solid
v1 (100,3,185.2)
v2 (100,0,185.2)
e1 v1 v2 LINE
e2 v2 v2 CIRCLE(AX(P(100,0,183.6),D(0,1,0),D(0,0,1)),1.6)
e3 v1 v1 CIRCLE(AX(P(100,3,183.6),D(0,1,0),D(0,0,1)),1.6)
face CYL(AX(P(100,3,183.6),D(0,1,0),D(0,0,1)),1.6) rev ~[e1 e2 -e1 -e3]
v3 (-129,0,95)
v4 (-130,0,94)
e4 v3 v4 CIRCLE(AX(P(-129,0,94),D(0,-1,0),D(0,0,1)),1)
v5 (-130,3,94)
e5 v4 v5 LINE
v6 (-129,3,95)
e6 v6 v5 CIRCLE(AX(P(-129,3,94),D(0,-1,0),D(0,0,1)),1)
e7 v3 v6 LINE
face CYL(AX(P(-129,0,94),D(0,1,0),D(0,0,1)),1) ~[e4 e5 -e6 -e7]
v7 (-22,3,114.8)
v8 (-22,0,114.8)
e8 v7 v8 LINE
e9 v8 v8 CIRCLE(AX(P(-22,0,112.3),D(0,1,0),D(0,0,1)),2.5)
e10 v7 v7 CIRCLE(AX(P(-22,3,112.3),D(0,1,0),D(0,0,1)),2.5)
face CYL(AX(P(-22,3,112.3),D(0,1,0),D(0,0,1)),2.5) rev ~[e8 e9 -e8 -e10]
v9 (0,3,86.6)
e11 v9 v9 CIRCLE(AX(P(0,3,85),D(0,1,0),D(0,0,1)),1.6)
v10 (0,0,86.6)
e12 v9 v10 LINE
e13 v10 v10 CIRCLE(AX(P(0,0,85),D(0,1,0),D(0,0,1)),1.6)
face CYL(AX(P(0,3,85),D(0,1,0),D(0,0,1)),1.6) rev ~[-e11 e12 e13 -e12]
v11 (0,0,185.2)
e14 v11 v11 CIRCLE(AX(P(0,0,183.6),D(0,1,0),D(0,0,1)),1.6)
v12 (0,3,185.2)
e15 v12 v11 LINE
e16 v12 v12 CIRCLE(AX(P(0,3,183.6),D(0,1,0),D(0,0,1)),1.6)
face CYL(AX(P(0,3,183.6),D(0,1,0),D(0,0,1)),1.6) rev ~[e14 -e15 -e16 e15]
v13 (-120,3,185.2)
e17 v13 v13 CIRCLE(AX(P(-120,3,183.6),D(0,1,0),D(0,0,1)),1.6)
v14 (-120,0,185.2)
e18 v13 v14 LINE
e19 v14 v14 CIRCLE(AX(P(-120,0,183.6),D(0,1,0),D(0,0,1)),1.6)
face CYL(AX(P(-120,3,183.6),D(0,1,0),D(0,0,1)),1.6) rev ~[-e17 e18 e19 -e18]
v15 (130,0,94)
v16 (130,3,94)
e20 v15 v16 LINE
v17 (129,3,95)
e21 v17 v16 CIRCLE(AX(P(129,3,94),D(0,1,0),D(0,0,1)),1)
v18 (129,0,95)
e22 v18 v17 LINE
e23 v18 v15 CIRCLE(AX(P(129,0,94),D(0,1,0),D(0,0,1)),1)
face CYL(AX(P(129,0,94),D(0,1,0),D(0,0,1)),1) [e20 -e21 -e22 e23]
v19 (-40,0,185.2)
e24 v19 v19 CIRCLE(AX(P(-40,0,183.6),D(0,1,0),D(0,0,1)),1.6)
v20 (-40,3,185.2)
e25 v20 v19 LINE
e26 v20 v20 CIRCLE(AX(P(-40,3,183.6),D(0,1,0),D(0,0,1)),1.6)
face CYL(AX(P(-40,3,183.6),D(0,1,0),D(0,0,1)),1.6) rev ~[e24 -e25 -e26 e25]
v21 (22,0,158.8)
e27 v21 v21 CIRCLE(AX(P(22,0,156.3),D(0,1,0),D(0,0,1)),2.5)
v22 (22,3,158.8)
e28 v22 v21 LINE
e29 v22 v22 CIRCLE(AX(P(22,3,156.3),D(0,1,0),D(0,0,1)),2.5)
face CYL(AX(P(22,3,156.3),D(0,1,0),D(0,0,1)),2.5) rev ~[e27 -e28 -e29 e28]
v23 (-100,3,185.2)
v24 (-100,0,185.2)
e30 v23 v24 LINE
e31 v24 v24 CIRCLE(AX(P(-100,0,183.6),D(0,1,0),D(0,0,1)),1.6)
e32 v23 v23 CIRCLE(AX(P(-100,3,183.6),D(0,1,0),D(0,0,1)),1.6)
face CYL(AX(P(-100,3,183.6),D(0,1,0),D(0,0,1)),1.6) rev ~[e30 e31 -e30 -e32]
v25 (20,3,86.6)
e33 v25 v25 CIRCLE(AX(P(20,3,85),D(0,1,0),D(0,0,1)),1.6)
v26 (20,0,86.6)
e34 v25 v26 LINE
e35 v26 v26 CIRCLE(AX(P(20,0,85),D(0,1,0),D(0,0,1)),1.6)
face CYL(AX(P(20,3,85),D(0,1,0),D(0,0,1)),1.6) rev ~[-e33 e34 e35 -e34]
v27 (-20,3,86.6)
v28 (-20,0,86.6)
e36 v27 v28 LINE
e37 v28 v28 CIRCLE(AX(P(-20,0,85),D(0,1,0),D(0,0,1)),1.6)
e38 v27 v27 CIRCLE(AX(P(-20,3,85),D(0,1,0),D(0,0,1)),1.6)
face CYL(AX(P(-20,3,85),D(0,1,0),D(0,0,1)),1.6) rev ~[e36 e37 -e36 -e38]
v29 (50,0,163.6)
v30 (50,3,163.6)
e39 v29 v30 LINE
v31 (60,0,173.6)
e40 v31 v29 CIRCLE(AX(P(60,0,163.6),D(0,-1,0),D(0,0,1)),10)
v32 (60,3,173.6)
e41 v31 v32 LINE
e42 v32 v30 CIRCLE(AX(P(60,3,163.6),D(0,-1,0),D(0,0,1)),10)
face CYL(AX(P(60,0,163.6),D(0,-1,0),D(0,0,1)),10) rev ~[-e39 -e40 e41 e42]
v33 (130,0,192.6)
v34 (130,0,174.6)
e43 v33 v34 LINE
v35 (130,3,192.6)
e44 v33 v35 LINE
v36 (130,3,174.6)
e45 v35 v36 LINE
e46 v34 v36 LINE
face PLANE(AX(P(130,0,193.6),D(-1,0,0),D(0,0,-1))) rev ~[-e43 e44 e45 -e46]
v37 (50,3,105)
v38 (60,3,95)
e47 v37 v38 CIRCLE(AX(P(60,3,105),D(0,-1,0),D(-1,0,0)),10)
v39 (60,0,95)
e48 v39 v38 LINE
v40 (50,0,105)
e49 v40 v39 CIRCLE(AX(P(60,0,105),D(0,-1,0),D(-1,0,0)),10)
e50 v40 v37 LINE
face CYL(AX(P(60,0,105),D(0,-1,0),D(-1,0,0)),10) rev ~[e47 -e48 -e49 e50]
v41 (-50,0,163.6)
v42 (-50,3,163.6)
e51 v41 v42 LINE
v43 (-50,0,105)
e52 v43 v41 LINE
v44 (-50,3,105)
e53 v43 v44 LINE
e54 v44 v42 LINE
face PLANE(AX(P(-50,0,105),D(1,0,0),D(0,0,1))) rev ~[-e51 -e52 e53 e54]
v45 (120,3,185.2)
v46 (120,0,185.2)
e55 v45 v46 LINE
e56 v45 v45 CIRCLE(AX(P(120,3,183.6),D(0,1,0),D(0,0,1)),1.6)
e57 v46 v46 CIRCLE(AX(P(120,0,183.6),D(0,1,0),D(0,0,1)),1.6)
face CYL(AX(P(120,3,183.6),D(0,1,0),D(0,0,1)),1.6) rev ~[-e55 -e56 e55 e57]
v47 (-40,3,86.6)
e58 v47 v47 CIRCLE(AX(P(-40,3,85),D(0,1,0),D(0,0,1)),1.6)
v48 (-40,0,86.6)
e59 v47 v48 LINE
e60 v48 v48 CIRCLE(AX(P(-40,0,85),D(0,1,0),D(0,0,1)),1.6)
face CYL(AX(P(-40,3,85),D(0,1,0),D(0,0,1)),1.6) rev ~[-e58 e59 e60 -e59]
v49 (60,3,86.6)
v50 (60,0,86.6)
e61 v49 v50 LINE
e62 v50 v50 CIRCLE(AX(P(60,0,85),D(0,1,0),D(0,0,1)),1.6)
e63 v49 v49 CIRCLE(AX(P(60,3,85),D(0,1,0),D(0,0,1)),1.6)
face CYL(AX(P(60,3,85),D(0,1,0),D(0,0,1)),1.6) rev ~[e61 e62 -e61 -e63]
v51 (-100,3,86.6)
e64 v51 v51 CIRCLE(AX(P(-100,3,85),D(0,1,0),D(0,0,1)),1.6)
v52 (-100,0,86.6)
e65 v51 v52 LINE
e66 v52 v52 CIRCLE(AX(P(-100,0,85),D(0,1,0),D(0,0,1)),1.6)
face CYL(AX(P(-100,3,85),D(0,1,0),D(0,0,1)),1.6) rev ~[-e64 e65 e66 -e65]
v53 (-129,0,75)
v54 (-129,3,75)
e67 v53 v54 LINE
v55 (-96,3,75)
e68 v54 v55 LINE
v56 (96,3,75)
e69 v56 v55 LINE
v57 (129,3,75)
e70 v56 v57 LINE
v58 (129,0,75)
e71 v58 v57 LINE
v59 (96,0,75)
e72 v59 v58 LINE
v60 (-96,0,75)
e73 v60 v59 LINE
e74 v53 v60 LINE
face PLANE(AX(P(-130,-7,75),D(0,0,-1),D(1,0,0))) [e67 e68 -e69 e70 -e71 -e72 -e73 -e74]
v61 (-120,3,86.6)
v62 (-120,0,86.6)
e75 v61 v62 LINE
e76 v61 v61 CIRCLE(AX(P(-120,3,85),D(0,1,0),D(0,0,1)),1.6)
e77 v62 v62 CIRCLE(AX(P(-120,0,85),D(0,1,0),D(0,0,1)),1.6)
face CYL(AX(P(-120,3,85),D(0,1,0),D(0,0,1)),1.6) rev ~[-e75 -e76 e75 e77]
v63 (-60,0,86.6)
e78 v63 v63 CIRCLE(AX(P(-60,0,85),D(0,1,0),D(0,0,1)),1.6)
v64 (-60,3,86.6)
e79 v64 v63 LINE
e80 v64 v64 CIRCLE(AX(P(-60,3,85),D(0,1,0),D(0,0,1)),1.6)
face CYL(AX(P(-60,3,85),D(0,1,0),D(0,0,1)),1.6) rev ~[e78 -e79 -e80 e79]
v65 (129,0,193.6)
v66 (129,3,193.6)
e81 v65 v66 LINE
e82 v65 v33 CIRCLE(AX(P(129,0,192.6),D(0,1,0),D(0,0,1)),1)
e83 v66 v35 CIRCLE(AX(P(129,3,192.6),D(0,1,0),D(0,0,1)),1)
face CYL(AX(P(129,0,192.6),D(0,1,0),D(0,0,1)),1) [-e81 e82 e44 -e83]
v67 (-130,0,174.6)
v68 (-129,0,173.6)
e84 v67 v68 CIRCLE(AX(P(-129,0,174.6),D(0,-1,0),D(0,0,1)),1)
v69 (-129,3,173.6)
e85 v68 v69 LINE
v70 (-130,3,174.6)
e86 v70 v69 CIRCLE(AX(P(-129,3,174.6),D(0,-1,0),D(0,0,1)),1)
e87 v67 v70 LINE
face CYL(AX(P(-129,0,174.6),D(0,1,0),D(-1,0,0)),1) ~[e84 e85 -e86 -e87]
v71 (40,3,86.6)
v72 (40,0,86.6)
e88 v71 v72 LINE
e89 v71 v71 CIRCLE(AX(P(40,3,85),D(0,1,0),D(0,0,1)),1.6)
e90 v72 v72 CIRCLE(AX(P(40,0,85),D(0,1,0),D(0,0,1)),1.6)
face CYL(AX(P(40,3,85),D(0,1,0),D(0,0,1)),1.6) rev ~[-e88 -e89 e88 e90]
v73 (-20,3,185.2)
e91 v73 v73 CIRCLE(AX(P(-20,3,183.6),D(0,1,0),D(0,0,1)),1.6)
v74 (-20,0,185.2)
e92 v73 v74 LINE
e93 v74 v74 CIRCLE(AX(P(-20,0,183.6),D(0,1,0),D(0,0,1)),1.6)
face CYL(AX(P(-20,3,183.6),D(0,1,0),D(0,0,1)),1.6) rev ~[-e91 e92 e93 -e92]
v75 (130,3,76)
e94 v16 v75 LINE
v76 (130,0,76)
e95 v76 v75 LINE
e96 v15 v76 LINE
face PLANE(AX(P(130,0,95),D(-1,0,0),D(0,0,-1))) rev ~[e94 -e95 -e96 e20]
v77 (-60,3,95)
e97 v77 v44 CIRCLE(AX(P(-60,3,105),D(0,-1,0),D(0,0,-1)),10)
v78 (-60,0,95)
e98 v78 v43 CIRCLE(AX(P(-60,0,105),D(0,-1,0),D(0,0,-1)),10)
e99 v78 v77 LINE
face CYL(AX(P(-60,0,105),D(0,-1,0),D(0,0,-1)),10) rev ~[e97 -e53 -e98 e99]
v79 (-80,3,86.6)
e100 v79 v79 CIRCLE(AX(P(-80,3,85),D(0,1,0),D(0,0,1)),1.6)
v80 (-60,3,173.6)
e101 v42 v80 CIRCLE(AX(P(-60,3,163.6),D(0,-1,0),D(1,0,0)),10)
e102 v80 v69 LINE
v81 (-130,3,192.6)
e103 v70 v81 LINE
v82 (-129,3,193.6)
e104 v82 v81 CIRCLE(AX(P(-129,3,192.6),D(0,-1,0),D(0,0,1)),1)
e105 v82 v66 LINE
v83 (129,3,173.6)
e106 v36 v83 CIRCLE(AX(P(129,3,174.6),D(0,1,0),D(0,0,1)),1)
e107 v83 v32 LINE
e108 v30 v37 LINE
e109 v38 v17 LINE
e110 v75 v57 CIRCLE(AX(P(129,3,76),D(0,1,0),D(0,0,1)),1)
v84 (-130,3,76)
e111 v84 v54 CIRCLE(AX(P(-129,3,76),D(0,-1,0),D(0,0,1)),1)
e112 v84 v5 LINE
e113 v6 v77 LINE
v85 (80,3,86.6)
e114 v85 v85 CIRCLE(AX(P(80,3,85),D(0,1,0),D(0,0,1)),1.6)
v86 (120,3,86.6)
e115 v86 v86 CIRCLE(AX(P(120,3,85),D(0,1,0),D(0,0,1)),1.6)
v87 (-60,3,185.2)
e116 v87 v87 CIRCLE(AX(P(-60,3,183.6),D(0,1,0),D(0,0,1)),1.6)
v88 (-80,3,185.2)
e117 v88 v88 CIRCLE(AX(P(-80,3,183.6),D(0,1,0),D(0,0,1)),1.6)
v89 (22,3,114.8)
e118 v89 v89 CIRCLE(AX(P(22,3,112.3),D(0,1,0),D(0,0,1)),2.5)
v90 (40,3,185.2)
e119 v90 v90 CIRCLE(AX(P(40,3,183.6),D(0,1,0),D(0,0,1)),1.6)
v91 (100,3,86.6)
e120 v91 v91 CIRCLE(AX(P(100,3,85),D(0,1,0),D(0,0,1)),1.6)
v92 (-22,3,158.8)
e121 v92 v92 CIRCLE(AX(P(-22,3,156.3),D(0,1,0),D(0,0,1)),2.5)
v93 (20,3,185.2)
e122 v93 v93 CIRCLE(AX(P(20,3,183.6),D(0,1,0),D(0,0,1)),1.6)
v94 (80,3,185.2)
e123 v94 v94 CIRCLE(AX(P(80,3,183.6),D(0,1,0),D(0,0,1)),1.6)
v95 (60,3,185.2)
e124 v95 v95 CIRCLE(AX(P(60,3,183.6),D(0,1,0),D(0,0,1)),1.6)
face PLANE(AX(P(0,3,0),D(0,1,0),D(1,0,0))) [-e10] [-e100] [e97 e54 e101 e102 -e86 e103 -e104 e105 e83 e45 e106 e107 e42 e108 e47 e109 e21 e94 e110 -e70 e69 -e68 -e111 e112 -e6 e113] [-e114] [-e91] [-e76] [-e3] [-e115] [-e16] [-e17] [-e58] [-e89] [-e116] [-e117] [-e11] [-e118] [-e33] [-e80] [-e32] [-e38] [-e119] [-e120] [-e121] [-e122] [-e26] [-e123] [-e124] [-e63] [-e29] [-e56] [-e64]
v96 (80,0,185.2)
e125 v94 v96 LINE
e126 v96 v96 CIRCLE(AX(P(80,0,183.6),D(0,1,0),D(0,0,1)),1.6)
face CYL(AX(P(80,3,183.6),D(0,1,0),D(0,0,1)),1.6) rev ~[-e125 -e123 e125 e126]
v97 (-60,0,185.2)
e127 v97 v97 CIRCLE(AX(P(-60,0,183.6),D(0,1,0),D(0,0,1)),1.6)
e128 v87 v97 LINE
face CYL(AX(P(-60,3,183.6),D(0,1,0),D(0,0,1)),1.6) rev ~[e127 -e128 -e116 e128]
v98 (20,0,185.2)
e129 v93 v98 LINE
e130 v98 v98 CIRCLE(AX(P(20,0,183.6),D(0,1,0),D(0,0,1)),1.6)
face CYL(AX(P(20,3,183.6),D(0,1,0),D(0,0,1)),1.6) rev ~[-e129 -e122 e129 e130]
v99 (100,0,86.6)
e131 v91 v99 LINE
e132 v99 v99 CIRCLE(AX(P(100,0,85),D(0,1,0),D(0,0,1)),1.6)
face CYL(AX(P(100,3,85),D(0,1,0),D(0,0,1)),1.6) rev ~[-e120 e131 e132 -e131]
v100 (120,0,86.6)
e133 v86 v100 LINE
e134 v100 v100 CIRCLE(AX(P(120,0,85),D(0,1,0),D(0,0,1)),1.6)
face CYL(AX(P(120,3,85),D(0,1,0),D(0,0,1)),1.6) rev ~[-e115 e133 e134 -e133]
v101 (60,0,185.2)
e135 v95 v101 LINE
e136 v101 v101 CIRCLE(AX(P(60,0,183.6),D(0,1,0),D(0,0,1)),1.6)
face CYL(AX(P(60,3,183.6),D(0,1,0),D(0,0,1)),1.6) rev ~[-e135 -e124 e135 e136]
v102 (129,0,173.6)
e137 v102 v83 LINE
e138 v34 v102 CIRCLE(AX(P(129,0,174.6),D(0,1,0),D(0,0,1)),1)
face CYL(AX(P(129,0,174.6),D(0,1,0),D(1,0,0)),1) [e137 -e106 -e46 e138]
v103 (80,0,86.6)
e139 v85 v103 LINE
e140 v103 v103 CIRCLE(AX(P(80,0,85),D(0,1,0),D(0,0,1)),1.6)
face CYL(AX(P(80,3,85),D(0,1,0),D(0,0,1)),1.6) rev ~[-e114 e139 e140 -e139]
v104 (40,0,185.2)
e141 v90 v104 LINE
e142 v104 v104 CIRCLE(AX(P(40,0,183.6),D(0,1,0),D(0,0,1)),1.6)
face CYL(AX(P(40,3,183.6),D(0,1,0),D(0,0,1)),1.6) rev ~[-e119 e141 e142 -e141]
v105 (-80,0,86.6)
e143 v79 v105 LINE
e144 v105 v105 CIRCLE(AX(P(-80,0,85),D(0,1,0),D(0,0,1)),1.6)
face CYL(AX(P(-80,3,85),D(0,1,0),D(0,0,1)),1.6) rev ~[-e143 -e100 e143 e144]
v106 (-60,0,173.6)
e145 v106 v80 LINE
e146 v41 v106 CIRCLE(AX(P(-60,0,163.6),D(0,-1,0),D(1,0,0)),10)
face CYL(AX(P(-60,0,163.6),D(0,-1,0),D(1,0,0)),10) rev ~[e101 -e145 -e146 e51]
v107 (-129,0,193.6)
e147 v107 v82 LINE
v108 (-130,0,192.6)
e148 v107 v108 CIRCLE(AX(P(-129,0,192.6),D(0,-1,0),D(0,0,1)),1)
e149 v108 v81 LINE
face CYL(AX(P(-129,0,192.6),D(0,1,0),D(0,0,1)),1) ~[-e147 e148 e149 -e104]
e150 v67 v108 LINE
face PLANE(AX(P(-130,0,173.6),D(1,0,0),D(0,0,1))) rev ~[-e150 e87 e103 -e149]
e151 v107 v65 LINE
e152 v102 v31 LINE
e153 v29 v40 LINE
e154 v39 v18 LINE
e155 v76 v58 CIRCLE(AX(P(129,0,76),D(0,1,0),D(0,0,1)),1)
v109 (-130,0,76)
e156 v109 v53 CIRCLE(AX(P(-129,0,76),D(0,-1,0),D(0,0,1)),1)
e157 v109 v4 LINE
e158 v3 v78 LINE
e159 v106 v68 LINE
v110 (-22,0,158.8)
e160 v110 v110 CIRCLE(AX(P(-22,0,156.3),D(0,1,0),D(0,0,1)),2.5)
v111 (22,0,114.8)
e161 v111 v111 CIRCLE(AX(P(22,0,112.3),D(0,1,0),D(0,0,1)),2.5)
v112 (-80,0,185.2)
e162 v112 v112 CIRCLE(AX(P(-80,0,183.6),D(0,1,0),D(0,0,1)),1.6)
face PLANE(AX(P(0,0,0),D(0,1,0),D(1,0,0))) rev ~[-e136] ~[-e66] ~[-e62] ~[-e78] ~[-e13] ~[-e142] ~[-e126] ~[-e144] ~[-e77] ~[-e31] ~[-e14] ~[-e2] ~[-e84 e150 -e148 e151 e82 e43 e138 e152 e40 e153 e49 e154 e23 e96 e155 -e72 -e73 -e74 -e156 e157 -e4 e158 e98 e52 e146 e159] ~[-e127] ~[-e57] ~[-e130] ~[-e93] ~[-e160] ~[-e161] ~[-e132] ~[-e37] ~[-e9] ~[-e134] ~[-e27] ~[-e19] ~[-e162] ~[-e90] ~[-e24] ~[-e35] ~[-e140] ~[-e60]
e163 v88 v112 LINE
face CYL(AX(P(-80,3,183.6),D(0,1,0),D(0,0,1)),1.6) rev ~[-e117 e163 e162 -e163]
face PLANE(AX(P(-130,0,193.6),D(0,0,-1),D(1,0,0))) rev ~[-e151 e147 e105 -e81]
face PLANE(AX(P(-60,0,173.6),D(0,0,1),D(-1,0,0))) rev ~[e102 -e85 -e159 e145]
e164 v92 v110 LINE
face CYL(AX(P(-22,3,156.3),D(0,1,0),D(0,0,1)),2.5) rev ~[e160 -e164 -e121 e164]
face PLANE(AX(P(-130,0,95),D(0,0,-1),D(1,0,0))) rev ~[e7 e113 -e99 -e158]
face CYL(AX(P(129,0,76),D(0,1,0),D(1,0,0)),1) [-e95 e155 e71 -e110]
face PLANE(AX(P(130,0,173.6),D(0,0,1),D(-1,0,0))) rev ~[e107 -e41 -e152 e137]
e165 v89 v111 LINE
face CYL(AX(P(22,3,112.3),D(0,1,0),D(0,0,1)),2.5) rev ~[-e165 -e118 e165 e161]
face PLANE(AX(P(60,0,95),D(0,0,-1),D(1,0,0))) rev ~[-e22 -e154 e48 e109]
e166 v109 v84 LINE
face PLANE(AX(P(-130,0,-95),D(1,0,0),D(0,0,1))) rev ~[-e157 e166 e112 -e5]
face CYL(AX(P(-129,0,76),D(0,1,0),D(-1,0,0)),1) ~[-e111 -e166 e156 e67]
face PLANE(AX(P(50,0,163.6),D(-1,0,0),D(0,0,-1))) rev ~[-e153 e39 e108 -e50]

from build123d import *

# Parameters (mm, degrees)
EXTRUDE_1_DEPTH     = 3
CUT_EXTRUDE_START   = -10
CUT_EXTRUDE_1_DEPTH = 10
SKETCH_3_W          = 20
SKETCH_3_H          = 40
EXTRUDE_2_DEPTH     = 3
FILLET_2_R          = 1
FILLET_3_R          = 1
SKETCH_5_R          = 2.5
CUT_EXTRUDE_2_DEPTH = 10
SKETCH_6_R          = 1.6
SKETCH_6_R_2        = 1.5
CUT_EXTRUDE_3_DEPTH = 10
SKETCH_8_R          = 1.5
CUT_EXTRUDE_4_DEPTH = 234.216551728
SKETCH_10_R         = 4
CUT_EXTRUDE_6_DEPTH = 234.216551728
SKETCH_11_W         = 261.88508479
SKETCH_11_H         = 89.465119345
CUT_EXTRUDE_7_DEPTH = 10
SKETCH_12_W         = 216.280597176
SKETCH_12_H         = 5.061990366
EXTRUDE_3_DEPTH     = 3
SKETCH_14_R         = 1.6
CUT_EXTRUDE_8_DEPTH = 234.216551728


with BuildPart() as part:
    # 草图1 → 凸台-拉伸1 (new body)
    with BuildSketch(Plane(origin=(0, 0, 0), x_dir=(1, 0, 0), z_dir=(0, 1, 0))):
        with BuildLine():
            Line((-130, -193.6), (-50, -193.6))
            Line((-50, -193.6), (50, -193.6))
            Line((50, -193.6), (130, -193.6))
            Line((130, -193.6), (130, -173.6))
            Line((130, -173.6), (60, -173.6))
            ThreePointArc((60, -173.6), (52.928932188, -170.671067812), (50, -163.6))
            Line((50, -163.6), (50, -105))
            ThreePointArc((50, -105), (52.928932188, -97.928932188), (60, -95))
            Line((60, -95), (130, -95))
            Line((130, -95), (130, -75))
            Line((130, -75), (130, 75))
            Line((130, 75), (130, 95))
            Line((130, 95), (60, 95))
            ThreePointArc((60, 95), (52.928932188, 97.928932188), (50, 105))
            Line((50, 105), (50, 163.6))
            ThreePointArc((50, 163.6), (52.928932188, 170.671067812), (60, 173.6))
            Line((60, 173.6), (130, 173.6))
            Line((130, 173.6), (130, 193.6))
            Line((130, 193.6), (50, 193.6))
            Line((50, 193.6), (-50, 193.6))
            Line((-50, 193.6), (-130, 193.6))
            Line((-130, 193.6), (-130, 173.6))
            Line((-130, 173.6), (-60, 173.6))
            ThreePointArc((-60, 173.6), (-52.928932188, 170.671067812), (-50, 163.6))
            Line((-50, 163.6), (-50, 105))
            ThreePointArc((-50, 105), (-52.928932188, 97.928932188), (-60, 95))
            Line((-60, 95), (-130, 95))
            Line((-130, 95), (-130, 75))
            Line((-130, 75), (-130, -75))
            Line((-130, -75), (-130, -95))
            Line((-130, -95), (-60, -95))
            ThreePointArc((-60, -95), (-52.928932188, -97.928932188), (-50, -105))
            Line((-50, -105), (-50, -163.6))
            ThreePointArc((-50, -163.6), (-52.928932188, -170.671067812), (-60, -173.6))
            Line((-60, -173.6), (-130, -173.6))
            Line((-130, -173.6), (-130, -193.6))
        make_face()
    extrude(amount=EXTRUDE_1_DEPTH)

    # 草图2 → 切除-拉伸1 (cut)
    with BuildSketch(Plane(origin=(0, 3, 0), x_dir=(1, 0, 0), z_dir=(0, 1, 0)).offset(CUT_EXTRUDE_START)):
        with BuildLine():
            Line((-130, 95), (-130, -75))
            Line((-130, -75), (130, -75))
            Line((130, -75), (130, 95))
            Line((130, 95), (60, 95))
            ThreePointArc((60, 95), (52.928932188, 97.928932188), (50, 105))
            Line((50, 105), (50, 163.6))
            ThreePointArc((50, 163.6), (52.928932188, 170.671067812), (60, 173.6))
            Line((60, 173.6), (130, 173.6))
            Line((130, 173.6), (130, 193.6))
            Line((130, 193.6), (-130, 193.6))
            Line((-130, 193.6), (-130, 173.6))
            Line((-130, 173.6), (-60, 173.6))
            ThreePointArc((-60, 173.6), (-52.928932188, 170.671067812), (-50, 163.6))
            Line((-50, 163.6), (-50, 105))
            ThreePointArc((-50, 105), (-52.928932188, 97.928932188), (-60, 95))
            Line((-60, 95), (-130, 95))
        make_face()
    extrude(amount=CUT_EXTRUDE_1_DEPTH, mode=Mode.SUBTRACT)

    # 草图3 → 凸台-拉伸2 (add)
    with BuildSketch(Plane(origin=(0, 3, 0), x_dir=(1, 0, 0), z_dir=(0, 1, 0))):
        with Locations((90, -55)):
            Rectangle(SKETCH_3_W, SKETCH_3_H)
        with Locations((-90, -55)):
            Rectangle(SKETCH_3_W, SKETCH_3_H)
    extrude(amount=-EXTRUDE_2_DEPTH)

    # 圆角2
    fillet_2_edges = [part.edges().sort_by_distance(p)[0] for p in [
        (-130, 1.5, 75),
        (-100, 1.5, 35),
        (-80, 1.5, 35),
        (-130, 1.5, 193.6),
        (-130, 1.5, 173.6),
        (-130, 1.5, 95),
    ]]
    fillet(fillet_2_edges, radius=FILLET_2_R)

    # 圆角3
    fillet_3_edges = [part.edges().sort_by_distance(p)[0] for p in [
        (130, 1.5, 75),
        (80, 1.5, 35),
        (100, 1.5, 35),
        (130, 1.5, 95),
        (130, 1.5, 173.6),
        (130, 1.5, 193.6),
    ]]
    fillet(fillet_3_edges, radius=FILLET_3_R)

    # 草图5 → 切除-拉伸2 (cut)
    with BuildSketch(Plane(origin=(0, 3, 0), x_dir=(1, 0, 0), z_dir=(0, 1, 0))):
        with Locations(Location((22, -112.3, 0), (0, 0, 270))):
            Circle(SKETCH_5_R)
        with Locations(Location((-22, -112.3, 0), (0, 0, 270))):
            Circle(SKETCH_5_R)
        with Locations(Location((-22, -156.3, 0), (0, 0, 270))):
            Circle(SKETCH_5_R)
        with Locations(Location((22, -156.3, 0), (0, 0, 270))):
            Circle(SKETCH_5_R)
    extrude(amount=-CUT_EXTRUDE_2_DEPTH, mode=Mode.SUBTRACT)

    # 草图6 → 切除-拉伸3 (cut)
    # profile 1 of 26: a face of its own
    with BuildSketch(Plane(origin=(0, 3, 0), x_dir=(1, 0, 0), z_dir=(0, 1, 0))):
        with Locations(Location((-100, -183.6, 0), (0, 0, 270))):
            Circle(SKETCH_6_R)
    # profile 2 of 26: a face of its own
    with BuildSketch(Plane(origin=(0, 3, 0), x_dir=(1, 0, 0), z_dir=(0, 1, 0))):
        with Locations(Location((-120, -183.6, 0), (0, 0, 270))):
            Circle(SKETCH_6_R)
    # profile 3 of 26: a face of its own
    with BuildSketch(Plane(origin=(0, 3, 0), x_dir=(1, 0, 0), z_dir=(0, 1, 0))):
        with Locations(Location((-80, -183.6, 0), (0, 0, 270))):
            Circle(SKETCH_6_R)
    # profile 4 of 26: a face of its own
    with BuildSketch(Plane(origin=(0, 3, 0), x_dir=(1, 0, 0), z_dir=(0, 1, 0))):
        with Locations(Location((-60, -183.6, 0), (0, 0, 270))):
            Circle(SKETCH_6_R)
    # profile 5 of 26: a face of its own
    with BuildSketch(Plane(origin=(0, 3, 0), x_dir=(1, 0, 0), z_dir=(0, 1, 0))):
        with Locations(Location((-40, -183.6, 0), (0, 0, 270))):
            Circle(SKETCH_6_R)
    # profile 6 of 26: a face of its own
    with BuildSketch(Plane(origin=(0, 3, 0), x_dir=(1, 0, 0), z_dir=(0, 1, 0))):
        with Locations(Location((-20, -183.6, 0), (0, 0, 270))):
            Circle(SKETCH_6_R)
    # profile 7 of 26: a face of its own
    with BuildSketch(Plane(origin=(0, 3, 0), x_dir=(1, 0, 0), z_dir=(0, 1, 0))):
        with Locations(Location((0, -183.6, 0), (0, 0, 270))):
            Circle(SKETCH_6_R)
    # profile 8 of 26: a face of its own
    with BuildSketch(Plane(origin=(0, 3, 0), x_dir=(1, 0, 0), z_dir=(0, 1, 0))):
        with Locations(Location((20, -183.6, 0), (0, 0, 270))):
            Circle(SKETCH_6_R)
    # profile 9 of 26: a face of its own
    with BuildSketch(Plane(origin=(0, 3, 0), x_dir=(1, 0, 0), z_dir=(0, 1, 0))):
        with Locations(Location((40, -183.6, 0), (0, 0, 270))):
            Circle(SKETCH_6_R)
    # profile 10 of 26: a face of its own
    with BuildSketch(Plane(origin=(0, 3, 0), x_dir=(1, 0, 0), z_dir=(0, 1, 0))):
        with Locations(Location((60, -183.6, 0), (0, 0, 270))):
            Circle(SKETCH_6_R)
    # profile 11 of 26: a face of its own
    with BuildSketch(Plane(origin=(0, 3, 0), x_dir=(1, 0, 0), z_dir=(0, 1, 0))):
        with Locations(Location((80, -183.6, 0), (0, 0, 270))):
            Circle(SKETCH_6_R)
    # profile 12 of 26: a face of its own
    with BuildSketch(Plane(origin=(0, 3, 0), x_dir=(1, 0, 0), z_dir=(0, 1, 0))):
        with Locations(Location((100, -183.6, 0), (0, 0, 270))):
            Circle(SKETCH_6_R)
    # profile 13 of 26: a face of its own
    with BuildSketch(Plane(origin=(0, 3, 0), x_dir=(1, 0, 0), z_dir=(0, 1, 0))):
        with Locations(Location((120, -183.6, 0), (0, 0, 270))):
            Circle(SKETCH_6_R)
    # profile 14 of 26: a face of its own
    with BuildSketch(Plane(origin=(0, 3, 0), x_dir=(1, 0, 0), z_dir=(0, 1, 0))):
        with Locations(Location((120, -85, 0), (0, 0, 270))):
            Circle(SKETCH_6_R)
    # profile 15 of 26: a face of its own
    with BuildSketch(Plane(origin=(0, 3, 0), x_dir=(1, 0, 0), z_dir=(0, 1, 0))):
        with Locations(Location((100, -85, 0), (0, 0, 270))):
            Circle(SKETCH_6_R)
        with Locations(Location((100, -85, 0), (0, 0, 270))):
            Circle(SKETCH_6_R_2, mode=Mode.SUBTRACT)
    # profile 16 of 26: a face of its own
    with BuildSketch(Plane(origin=(0, 3, 0), x_dir=(1, 0, 0), z_dir=(0, 1, 0))):
        with Locations(Location((80, -85, 0), (0, 0, 270))):
            Circle(SKETCH_6_R_2)
    # profile 17 of 26: a face of its own
    with BuildSketch(Plane(origin=(0, 3, 0), x_dir=(1, 0, 0), z_dir=(0, 1, 0))):
        with Locations(Location((60, -85, 0), (0, 0, 270))):
            Circle(SKETCH_6_R)
        with Locations(Location((60, -85, 0), (0, 0, 270))):
            Circle(SKETCH_6_R_2, mode=Mode.SUBTRACT)
    # profile 18 of 26: a face of its own
    with BuildSketch(Plane(origin=(0, 3, 0), x_dir=(1, 0, 0), z_dir=(0, 1, 0))):
        with Locations(Location((40, -85, 0), (0, 0, 270))):
            Circle(SKETCH_6_R)
        with Locations(Location((40, -85, 0), (0, 0, 270))):
            Circle(SKETCH_6_R_2, mode=Mode.SUBTRACT)
    # profile 19 of 26: a face of its own
    with BuildSketch(Plane(origin=(0, 3, 0), x_dir=(1, 0, 0), z_dir=(0, 1, 0))):
        with Locations(Location((20, -85, 0), (0, 0, 270))):
            Circle(SKETCH_6_R)
        with Locations(Location((20, -85, 0), (0, 0, 270))):
            Circle(SKETCH_6_R_2, mode=Mode.SUBTRACT)
    # profile 20 of 26: a face of its own
    with BuildSketch(Plane(origin=(0, 3, 0), x_dir=(1, 0, 0), z_dir=(0, 1, 0))):
        with Locations(Location((-20, -85, 0), (0, 0, 270))):
            Circle(SKETCH_6_R)
        with Locations(Location((-20, -85, 0), (0, 0, 270))):
            Circle(SKETCH_6_R_2, mode=Mode.SUBTRACT)
    # profile 21 of 26: a face of its own
    with BuildSketch(Plane(origin=(0, 3, 0), x_dir=(1, 0, 0), z_dir=(0, 1, 0))):
        with Locations(Location((0, -85, 0), (0, 0, 270))):
            Circle(SKETCH_6_R_2)
    # profile 22 of 26: a face of its own
    with BuildSketch(Plane(origin=(0, 3, 0), x_dir=(1, 0, 0), z_dir=(0, 1, 0))):
        with Locations(Location((-40, -85, 0), (0, 0, 270))):
            Circle(SKETCH_6_R)
        with Locations(Location((-40, -85, 0), (0, 0, 270))):
            Circle(SKETCH_6_R_2, mode=Mode.SUBTRACT)
    # profile 23 of 26: a face of its own
    with BuildSketch(Plane(origin=(0, 3, 0), x_dir=(1, 0, 0), z_dir=(0, 1, 0))):
        with Locations(Location((-60, -85, 0), (0, 0, 270))):
            Circle(SKETCH_6_R)
        with Locations(Location((-60, -85, 0), (0, 0, 270))):
            Circle(SKETCH_6_R_2, mode=Mode.SUBTRACT)
    # profile 24 of 26: a face of its own
    with BuildSketch(Plane(origin=(0, 3, 0), x_dir=(1, 0, 0), z_dir=(0, 1, 0))):
        with Locations(Location((-80, -85, 0), (0, 0, 270))):
            Circle(SKETCH_6_R)
        with Locations(Location((-80, -85, 0), (0, 0, 270))):
            Circle(SKETCH_6_R_2, mode=Mode.SUBTRACT)
    # profile 25 of 26: a face of its own
    with BuildSketch(Plane(origin=(0, 3, 0), x_dir=(1, 0, 0), z_dir=(0, 1, 0))):
        with Locations(Location((-100, -85, 0), (0, 0, 270))):
            Circle(SKETCH_6_R)
        with Locations(Location((-100, -85, 0), (0, 0, 270))):
            Circle(SKETCH_6_R_2, mode=Mode.SUBTRACT)
    # profile 26 of 26: a face of its own
    with BuildSketch(Plane(origin=(0, 3, 0), x_dir=(1, 0, 0), z_dir=(0, 1, 0))):
        with Locations(Location((-120, -85, 0), (0, 0, 270))):
            Circle(SKETCH_6_R)
    extrude(amount=-CUT_EXTRUDE_3_DEPTH, mode=Mode.SUBTRACT)


with BuildPart() as cut_extrude_3_piece_1:
    # of the separate pieces the step leaves, piece 1, a body of its own (cut_extrude_3_pieces)
    add(part.part.solids().sort_by_distance((129, 3, 193.6))[0])

    # 草图8 → 切除-拉伸4 (cut, through all)
    with BuildSketch(Plane.XZ):
        with Locations(Location((-90, 40, 0), (0, 0, 270))):
            Circle(SKETCH_8_R)
        with Locations(Location((-90, 60, 0), (0, 0, 270))):
            Circle(SKETCH_8_R)
        with Locations(Location((90, 60, 0), (0, 0, 270))):
            Circle(SKETCH_8_R)
        with Locations(Location((90, 40, 0), (0, 0, 270))):
            Circle(SKETCH_8_R)
    extrude(amount=-CUT_EXTRUDE_4_DEPTH, mode=Mode.SUBTRACT)

    # 草图10 → 切除-拉伸6 (cut, through all)
    with BuildSketch(Plane(origin=(0, 3, 0), x_dir=(1, 0, 0), z_dir=(0, 1, 0))):
        with Locations((-100, -75)):
            Circle(SKETCH_10_R)
        with Locations((-80, -75)):
            Circle(SKETCH_10_R)
        with Locations((80, -75)):
            Circle(SKETCH_10_R)
        with Locations((100, -75)):
            Circle(SKETCH_10_R)
    extrude(amount=-CUT_EXTRUDE_6_DEPTH, mode=Mode.SUBTRACT)

    # 草图11 → 切除-拉伸7 (cut)
    with BuildSketch(Plane(origin=(0, 3, 0), x_dir=(1, 0, 0), z_dir=(0, 1, 0))):
        with Locations((10.499402025, -30.267440327)):
            Rectangle(SKETCH_11_W, SKETCH_11_H)
    extrude(amount=-CUT_EXTRUDE_7_DEPTH, mode=Mode.SUBTRACT)

    # 草图12 → 凸台-拉伸3 (add)
    with BuildSketch(Plane(origin=(0, 3, 0), x_dir=(1, 0, 0), z_dir=(0, 1, 0))):
        with Locations((2.776697739, -77.530995183)):
            Rectangle(SKETCH_12_W, SKETCH_12_H)
    extrude(amount=-EXTRUDE_3_DEPTH)


with BuildPart() as cut_extrude_3_piece_2:
    # of the separate pieces the step leaves, piece 2, a body of its own (cut_extrude_3_pieces)
    add(part.part.solids().sort_by_distance((-60, 3, 86.5))[0])


with BuildPart() as cut_extrude_3_piece_3:
    # of the separate pieces the step leaves, piece 3, a body of its own (cut_extrude_3_pieces)
    add(part.part.solids().sort_by_distance((60, 3, 86.5))[0])


with BuildPart() as cut_extrude_3_piece_4:
    # of the separate pieces the step leaves, piece 4, a body of its own (cut_extrude_3_pieces)
    add(part.part.solids().sort_by_distance((-100, 3, 86.5))[0])


with BuildPart() as cut_extrude_3_piece_5:
    # of the separate pieces the step leaves, piece 5, a body of its own (cut_extrude_3_pieces)
    add(part.part.solids().sort_by_distance((-80, 3, 86.5))[0])


with BuildPart() as cut_extrude_3_piece_6:
    # of the separate pieces the step leaves, piece 6, a body of its own (cut_extrude_3_pieces)
    add(part.part.solids().sort_by_distance((100, 3, 86.5))[0])


with BuildPart() as cut_extrude_3_piece_7:
    # of the separate pieces the step leaves, piece 7, a body of its own (cut_extrude_3_pieces)
    add(part.part.solids().sort_by_distance((-20, 3, 86.5))[0])


with BuildPart() as cut_extrude_3_piece_8:
    # of the separate pieces the step leaves, piece 8, a body of its own (cut_extrude_3_pieces)
    add(part.part.solids().sort_by_distance((20, 3, 86.5))[0])


with BuildPart() as cut_extrude_3_piece_9:
    # of the separate pieces the step leaves, piece 9, a body of its own (cut_extrude_3_pieces)
    add(part.part.solids().sort_by_distance((40, 3, 86.5))[0])


with BuildPart() as cut_extrude_3_piece_10:
    # of the separate pieces the step leaves, piece 10, a body of its own (cut_extrude_3_pieces)
    add(part.part.solids().sort_by_distance((-40, 3, 86.5))[0])


with BuildPart() as cut_extrude_8_tool:
    # 草图14 → 切除-拉伸8 (new, through all)
    with BuildSketch(Plane(origin=(0, 3, 0), x_dir=(1, 0, 0), z_dir=(0, 1, 0))):
        with Locations(Location((-120, -85, 0), (0, 0, 270))):
            Circle(SKETCH_14_R)
        with Locations(Location((-100, -85, 0), (0, 0, 270))):
            Circle(SKETCH_14_R)
        with Locations(Location((-80, -85, 0), (0, 0, 270))):
            Circle(SKETCH_14_R)
        with Locations(Location((-60, -85, 0), (0, 0, 270))):
            Circle(SKETCH_14_R)
        with Locations(Location((-40, -85, 0), (0, 0, 270))):
            Circle(SKETCH_14_R)
        with Locations(Location((-20, -85, 0), (0, 0, 270))):
            Circle(SKETCH_14_R)
        with Locations(Location((0, -85, 0), (0, 0, 270))):
            Circle(SKETCH_14_R)
        with Locations(Location((20, -85, 0), (0, 0, 270))):
            Circle(SKETCH_14_R)
        with Locations(Location((40, -85, 0), (0, 0, 270))):
            Circle(SKETCH_14_R)
        with Locations(Location((60, -85, 0), (0, 0, 270))):
            Circle(SKETCH_14_R)
        with Locations(Location((80, -85, 0), (0, 0, 270))):
            Circle(SKETCH_14_R)
        with Locations(Location((100, -85, 0), (0, 0, 270))):
            Circle(SKETCH_14_R)
        with Locations(Location((120, -85, 0), (0, 0, 270))):
            Circle(SKETCH_14_R)
    extrude(amount=-CUT_EXTRUDE_8_DEPTH)


with BuildPart() as cut_extrude_3_piece_1_1:
    add(cut_extrude_3_piece_1.part)

    # 切除-拉伸8: cut by cut_extrude_8_tool
    add(cut_extrude_8_tool.part, mode=Mode.SUBTRACT)


with BuildPart() as cut_extrude_3_piece_2_1:
    add(cut_extrude_3_piece_2.part)

    # 切除-拉伸8: cut by cut_extrude_8_tool
    add(cut_extrude_8_tool.part, mode=Mode.SUBTRACT)


with BuildPart() as cut_extrude_3_piece_3_1:
    add(cut_extrude_3_piece_3.part)

    # 切除-拉伸8: cut by cut_extrude_8_tool
    add(cut_extrude_8_tool.part, mode=Mode.SUBTRACT)


with BuildPart() as cut_extrude_3_piece_4_1:
    add(cut_extrude_3_piece_4.part)

    # 切除-拉伸8: cut by cut_extrude_8_tool
    add(cut_extrude_8_tool.part, mode=Mode.SUBTRACT)


with BuildPart() as cut_extrude_3_piece_5_1:
    add(cut_extrude_3_piece_5.part)

    # 切除-拉伸8: cut by cut_extrude_8_tool
    add(cut_extrude_8_tool.part, mode=Mode.SUBTRACT)


with BuildPart() as cut_extrude_3_piece_6_1:
    add(cut_extrude_3_piece_6.part)

    # 切除-拉伸8: cut by cut_extrude_8_tool
    add(cut_extrude_8_tool.part, mode=Mode.SUBTRACT)


with BuildPart() as cut_extrude_3_piece_7_1:
    add(cut_extrude_3_piece_7.part)

    # 切除-拉伸8: cut by cut_extrude_8_tool
    add(cut_extrude_8_tool.part, mode=Mode.SUBTRACT)


with BuildPart() as cut_extrude_3_piece_8_1:
    add(cut_extrude_3_piece_8.part)

    # 切除-拉伸8: cut by cut_extrude_8_tool
    add(cut_extrude_8_tool.part, mode=Mode.SUBTRACT)


with BuildPart() as cut_extrude_3_piece_9_1:
    add(cut_extrude_3_piece_9.part)

    # 切除-拉伸8: cut by cut_extrude_8_tool
    add(cut_extrude_8_tool.part, mode=Mode.SUBTRACT)


with BuildPart() as cut_extrude_3_piece_10_1:
    add(cut_extrude_3_piece_10.part)

    # 切除-拉伸8: cut by cut_extrude_8_tool
    add(cut_extrude_8_tool.part, mode=Mode.SUBTRACT)


solid = cut_extrude_3_piece_1_1.part
